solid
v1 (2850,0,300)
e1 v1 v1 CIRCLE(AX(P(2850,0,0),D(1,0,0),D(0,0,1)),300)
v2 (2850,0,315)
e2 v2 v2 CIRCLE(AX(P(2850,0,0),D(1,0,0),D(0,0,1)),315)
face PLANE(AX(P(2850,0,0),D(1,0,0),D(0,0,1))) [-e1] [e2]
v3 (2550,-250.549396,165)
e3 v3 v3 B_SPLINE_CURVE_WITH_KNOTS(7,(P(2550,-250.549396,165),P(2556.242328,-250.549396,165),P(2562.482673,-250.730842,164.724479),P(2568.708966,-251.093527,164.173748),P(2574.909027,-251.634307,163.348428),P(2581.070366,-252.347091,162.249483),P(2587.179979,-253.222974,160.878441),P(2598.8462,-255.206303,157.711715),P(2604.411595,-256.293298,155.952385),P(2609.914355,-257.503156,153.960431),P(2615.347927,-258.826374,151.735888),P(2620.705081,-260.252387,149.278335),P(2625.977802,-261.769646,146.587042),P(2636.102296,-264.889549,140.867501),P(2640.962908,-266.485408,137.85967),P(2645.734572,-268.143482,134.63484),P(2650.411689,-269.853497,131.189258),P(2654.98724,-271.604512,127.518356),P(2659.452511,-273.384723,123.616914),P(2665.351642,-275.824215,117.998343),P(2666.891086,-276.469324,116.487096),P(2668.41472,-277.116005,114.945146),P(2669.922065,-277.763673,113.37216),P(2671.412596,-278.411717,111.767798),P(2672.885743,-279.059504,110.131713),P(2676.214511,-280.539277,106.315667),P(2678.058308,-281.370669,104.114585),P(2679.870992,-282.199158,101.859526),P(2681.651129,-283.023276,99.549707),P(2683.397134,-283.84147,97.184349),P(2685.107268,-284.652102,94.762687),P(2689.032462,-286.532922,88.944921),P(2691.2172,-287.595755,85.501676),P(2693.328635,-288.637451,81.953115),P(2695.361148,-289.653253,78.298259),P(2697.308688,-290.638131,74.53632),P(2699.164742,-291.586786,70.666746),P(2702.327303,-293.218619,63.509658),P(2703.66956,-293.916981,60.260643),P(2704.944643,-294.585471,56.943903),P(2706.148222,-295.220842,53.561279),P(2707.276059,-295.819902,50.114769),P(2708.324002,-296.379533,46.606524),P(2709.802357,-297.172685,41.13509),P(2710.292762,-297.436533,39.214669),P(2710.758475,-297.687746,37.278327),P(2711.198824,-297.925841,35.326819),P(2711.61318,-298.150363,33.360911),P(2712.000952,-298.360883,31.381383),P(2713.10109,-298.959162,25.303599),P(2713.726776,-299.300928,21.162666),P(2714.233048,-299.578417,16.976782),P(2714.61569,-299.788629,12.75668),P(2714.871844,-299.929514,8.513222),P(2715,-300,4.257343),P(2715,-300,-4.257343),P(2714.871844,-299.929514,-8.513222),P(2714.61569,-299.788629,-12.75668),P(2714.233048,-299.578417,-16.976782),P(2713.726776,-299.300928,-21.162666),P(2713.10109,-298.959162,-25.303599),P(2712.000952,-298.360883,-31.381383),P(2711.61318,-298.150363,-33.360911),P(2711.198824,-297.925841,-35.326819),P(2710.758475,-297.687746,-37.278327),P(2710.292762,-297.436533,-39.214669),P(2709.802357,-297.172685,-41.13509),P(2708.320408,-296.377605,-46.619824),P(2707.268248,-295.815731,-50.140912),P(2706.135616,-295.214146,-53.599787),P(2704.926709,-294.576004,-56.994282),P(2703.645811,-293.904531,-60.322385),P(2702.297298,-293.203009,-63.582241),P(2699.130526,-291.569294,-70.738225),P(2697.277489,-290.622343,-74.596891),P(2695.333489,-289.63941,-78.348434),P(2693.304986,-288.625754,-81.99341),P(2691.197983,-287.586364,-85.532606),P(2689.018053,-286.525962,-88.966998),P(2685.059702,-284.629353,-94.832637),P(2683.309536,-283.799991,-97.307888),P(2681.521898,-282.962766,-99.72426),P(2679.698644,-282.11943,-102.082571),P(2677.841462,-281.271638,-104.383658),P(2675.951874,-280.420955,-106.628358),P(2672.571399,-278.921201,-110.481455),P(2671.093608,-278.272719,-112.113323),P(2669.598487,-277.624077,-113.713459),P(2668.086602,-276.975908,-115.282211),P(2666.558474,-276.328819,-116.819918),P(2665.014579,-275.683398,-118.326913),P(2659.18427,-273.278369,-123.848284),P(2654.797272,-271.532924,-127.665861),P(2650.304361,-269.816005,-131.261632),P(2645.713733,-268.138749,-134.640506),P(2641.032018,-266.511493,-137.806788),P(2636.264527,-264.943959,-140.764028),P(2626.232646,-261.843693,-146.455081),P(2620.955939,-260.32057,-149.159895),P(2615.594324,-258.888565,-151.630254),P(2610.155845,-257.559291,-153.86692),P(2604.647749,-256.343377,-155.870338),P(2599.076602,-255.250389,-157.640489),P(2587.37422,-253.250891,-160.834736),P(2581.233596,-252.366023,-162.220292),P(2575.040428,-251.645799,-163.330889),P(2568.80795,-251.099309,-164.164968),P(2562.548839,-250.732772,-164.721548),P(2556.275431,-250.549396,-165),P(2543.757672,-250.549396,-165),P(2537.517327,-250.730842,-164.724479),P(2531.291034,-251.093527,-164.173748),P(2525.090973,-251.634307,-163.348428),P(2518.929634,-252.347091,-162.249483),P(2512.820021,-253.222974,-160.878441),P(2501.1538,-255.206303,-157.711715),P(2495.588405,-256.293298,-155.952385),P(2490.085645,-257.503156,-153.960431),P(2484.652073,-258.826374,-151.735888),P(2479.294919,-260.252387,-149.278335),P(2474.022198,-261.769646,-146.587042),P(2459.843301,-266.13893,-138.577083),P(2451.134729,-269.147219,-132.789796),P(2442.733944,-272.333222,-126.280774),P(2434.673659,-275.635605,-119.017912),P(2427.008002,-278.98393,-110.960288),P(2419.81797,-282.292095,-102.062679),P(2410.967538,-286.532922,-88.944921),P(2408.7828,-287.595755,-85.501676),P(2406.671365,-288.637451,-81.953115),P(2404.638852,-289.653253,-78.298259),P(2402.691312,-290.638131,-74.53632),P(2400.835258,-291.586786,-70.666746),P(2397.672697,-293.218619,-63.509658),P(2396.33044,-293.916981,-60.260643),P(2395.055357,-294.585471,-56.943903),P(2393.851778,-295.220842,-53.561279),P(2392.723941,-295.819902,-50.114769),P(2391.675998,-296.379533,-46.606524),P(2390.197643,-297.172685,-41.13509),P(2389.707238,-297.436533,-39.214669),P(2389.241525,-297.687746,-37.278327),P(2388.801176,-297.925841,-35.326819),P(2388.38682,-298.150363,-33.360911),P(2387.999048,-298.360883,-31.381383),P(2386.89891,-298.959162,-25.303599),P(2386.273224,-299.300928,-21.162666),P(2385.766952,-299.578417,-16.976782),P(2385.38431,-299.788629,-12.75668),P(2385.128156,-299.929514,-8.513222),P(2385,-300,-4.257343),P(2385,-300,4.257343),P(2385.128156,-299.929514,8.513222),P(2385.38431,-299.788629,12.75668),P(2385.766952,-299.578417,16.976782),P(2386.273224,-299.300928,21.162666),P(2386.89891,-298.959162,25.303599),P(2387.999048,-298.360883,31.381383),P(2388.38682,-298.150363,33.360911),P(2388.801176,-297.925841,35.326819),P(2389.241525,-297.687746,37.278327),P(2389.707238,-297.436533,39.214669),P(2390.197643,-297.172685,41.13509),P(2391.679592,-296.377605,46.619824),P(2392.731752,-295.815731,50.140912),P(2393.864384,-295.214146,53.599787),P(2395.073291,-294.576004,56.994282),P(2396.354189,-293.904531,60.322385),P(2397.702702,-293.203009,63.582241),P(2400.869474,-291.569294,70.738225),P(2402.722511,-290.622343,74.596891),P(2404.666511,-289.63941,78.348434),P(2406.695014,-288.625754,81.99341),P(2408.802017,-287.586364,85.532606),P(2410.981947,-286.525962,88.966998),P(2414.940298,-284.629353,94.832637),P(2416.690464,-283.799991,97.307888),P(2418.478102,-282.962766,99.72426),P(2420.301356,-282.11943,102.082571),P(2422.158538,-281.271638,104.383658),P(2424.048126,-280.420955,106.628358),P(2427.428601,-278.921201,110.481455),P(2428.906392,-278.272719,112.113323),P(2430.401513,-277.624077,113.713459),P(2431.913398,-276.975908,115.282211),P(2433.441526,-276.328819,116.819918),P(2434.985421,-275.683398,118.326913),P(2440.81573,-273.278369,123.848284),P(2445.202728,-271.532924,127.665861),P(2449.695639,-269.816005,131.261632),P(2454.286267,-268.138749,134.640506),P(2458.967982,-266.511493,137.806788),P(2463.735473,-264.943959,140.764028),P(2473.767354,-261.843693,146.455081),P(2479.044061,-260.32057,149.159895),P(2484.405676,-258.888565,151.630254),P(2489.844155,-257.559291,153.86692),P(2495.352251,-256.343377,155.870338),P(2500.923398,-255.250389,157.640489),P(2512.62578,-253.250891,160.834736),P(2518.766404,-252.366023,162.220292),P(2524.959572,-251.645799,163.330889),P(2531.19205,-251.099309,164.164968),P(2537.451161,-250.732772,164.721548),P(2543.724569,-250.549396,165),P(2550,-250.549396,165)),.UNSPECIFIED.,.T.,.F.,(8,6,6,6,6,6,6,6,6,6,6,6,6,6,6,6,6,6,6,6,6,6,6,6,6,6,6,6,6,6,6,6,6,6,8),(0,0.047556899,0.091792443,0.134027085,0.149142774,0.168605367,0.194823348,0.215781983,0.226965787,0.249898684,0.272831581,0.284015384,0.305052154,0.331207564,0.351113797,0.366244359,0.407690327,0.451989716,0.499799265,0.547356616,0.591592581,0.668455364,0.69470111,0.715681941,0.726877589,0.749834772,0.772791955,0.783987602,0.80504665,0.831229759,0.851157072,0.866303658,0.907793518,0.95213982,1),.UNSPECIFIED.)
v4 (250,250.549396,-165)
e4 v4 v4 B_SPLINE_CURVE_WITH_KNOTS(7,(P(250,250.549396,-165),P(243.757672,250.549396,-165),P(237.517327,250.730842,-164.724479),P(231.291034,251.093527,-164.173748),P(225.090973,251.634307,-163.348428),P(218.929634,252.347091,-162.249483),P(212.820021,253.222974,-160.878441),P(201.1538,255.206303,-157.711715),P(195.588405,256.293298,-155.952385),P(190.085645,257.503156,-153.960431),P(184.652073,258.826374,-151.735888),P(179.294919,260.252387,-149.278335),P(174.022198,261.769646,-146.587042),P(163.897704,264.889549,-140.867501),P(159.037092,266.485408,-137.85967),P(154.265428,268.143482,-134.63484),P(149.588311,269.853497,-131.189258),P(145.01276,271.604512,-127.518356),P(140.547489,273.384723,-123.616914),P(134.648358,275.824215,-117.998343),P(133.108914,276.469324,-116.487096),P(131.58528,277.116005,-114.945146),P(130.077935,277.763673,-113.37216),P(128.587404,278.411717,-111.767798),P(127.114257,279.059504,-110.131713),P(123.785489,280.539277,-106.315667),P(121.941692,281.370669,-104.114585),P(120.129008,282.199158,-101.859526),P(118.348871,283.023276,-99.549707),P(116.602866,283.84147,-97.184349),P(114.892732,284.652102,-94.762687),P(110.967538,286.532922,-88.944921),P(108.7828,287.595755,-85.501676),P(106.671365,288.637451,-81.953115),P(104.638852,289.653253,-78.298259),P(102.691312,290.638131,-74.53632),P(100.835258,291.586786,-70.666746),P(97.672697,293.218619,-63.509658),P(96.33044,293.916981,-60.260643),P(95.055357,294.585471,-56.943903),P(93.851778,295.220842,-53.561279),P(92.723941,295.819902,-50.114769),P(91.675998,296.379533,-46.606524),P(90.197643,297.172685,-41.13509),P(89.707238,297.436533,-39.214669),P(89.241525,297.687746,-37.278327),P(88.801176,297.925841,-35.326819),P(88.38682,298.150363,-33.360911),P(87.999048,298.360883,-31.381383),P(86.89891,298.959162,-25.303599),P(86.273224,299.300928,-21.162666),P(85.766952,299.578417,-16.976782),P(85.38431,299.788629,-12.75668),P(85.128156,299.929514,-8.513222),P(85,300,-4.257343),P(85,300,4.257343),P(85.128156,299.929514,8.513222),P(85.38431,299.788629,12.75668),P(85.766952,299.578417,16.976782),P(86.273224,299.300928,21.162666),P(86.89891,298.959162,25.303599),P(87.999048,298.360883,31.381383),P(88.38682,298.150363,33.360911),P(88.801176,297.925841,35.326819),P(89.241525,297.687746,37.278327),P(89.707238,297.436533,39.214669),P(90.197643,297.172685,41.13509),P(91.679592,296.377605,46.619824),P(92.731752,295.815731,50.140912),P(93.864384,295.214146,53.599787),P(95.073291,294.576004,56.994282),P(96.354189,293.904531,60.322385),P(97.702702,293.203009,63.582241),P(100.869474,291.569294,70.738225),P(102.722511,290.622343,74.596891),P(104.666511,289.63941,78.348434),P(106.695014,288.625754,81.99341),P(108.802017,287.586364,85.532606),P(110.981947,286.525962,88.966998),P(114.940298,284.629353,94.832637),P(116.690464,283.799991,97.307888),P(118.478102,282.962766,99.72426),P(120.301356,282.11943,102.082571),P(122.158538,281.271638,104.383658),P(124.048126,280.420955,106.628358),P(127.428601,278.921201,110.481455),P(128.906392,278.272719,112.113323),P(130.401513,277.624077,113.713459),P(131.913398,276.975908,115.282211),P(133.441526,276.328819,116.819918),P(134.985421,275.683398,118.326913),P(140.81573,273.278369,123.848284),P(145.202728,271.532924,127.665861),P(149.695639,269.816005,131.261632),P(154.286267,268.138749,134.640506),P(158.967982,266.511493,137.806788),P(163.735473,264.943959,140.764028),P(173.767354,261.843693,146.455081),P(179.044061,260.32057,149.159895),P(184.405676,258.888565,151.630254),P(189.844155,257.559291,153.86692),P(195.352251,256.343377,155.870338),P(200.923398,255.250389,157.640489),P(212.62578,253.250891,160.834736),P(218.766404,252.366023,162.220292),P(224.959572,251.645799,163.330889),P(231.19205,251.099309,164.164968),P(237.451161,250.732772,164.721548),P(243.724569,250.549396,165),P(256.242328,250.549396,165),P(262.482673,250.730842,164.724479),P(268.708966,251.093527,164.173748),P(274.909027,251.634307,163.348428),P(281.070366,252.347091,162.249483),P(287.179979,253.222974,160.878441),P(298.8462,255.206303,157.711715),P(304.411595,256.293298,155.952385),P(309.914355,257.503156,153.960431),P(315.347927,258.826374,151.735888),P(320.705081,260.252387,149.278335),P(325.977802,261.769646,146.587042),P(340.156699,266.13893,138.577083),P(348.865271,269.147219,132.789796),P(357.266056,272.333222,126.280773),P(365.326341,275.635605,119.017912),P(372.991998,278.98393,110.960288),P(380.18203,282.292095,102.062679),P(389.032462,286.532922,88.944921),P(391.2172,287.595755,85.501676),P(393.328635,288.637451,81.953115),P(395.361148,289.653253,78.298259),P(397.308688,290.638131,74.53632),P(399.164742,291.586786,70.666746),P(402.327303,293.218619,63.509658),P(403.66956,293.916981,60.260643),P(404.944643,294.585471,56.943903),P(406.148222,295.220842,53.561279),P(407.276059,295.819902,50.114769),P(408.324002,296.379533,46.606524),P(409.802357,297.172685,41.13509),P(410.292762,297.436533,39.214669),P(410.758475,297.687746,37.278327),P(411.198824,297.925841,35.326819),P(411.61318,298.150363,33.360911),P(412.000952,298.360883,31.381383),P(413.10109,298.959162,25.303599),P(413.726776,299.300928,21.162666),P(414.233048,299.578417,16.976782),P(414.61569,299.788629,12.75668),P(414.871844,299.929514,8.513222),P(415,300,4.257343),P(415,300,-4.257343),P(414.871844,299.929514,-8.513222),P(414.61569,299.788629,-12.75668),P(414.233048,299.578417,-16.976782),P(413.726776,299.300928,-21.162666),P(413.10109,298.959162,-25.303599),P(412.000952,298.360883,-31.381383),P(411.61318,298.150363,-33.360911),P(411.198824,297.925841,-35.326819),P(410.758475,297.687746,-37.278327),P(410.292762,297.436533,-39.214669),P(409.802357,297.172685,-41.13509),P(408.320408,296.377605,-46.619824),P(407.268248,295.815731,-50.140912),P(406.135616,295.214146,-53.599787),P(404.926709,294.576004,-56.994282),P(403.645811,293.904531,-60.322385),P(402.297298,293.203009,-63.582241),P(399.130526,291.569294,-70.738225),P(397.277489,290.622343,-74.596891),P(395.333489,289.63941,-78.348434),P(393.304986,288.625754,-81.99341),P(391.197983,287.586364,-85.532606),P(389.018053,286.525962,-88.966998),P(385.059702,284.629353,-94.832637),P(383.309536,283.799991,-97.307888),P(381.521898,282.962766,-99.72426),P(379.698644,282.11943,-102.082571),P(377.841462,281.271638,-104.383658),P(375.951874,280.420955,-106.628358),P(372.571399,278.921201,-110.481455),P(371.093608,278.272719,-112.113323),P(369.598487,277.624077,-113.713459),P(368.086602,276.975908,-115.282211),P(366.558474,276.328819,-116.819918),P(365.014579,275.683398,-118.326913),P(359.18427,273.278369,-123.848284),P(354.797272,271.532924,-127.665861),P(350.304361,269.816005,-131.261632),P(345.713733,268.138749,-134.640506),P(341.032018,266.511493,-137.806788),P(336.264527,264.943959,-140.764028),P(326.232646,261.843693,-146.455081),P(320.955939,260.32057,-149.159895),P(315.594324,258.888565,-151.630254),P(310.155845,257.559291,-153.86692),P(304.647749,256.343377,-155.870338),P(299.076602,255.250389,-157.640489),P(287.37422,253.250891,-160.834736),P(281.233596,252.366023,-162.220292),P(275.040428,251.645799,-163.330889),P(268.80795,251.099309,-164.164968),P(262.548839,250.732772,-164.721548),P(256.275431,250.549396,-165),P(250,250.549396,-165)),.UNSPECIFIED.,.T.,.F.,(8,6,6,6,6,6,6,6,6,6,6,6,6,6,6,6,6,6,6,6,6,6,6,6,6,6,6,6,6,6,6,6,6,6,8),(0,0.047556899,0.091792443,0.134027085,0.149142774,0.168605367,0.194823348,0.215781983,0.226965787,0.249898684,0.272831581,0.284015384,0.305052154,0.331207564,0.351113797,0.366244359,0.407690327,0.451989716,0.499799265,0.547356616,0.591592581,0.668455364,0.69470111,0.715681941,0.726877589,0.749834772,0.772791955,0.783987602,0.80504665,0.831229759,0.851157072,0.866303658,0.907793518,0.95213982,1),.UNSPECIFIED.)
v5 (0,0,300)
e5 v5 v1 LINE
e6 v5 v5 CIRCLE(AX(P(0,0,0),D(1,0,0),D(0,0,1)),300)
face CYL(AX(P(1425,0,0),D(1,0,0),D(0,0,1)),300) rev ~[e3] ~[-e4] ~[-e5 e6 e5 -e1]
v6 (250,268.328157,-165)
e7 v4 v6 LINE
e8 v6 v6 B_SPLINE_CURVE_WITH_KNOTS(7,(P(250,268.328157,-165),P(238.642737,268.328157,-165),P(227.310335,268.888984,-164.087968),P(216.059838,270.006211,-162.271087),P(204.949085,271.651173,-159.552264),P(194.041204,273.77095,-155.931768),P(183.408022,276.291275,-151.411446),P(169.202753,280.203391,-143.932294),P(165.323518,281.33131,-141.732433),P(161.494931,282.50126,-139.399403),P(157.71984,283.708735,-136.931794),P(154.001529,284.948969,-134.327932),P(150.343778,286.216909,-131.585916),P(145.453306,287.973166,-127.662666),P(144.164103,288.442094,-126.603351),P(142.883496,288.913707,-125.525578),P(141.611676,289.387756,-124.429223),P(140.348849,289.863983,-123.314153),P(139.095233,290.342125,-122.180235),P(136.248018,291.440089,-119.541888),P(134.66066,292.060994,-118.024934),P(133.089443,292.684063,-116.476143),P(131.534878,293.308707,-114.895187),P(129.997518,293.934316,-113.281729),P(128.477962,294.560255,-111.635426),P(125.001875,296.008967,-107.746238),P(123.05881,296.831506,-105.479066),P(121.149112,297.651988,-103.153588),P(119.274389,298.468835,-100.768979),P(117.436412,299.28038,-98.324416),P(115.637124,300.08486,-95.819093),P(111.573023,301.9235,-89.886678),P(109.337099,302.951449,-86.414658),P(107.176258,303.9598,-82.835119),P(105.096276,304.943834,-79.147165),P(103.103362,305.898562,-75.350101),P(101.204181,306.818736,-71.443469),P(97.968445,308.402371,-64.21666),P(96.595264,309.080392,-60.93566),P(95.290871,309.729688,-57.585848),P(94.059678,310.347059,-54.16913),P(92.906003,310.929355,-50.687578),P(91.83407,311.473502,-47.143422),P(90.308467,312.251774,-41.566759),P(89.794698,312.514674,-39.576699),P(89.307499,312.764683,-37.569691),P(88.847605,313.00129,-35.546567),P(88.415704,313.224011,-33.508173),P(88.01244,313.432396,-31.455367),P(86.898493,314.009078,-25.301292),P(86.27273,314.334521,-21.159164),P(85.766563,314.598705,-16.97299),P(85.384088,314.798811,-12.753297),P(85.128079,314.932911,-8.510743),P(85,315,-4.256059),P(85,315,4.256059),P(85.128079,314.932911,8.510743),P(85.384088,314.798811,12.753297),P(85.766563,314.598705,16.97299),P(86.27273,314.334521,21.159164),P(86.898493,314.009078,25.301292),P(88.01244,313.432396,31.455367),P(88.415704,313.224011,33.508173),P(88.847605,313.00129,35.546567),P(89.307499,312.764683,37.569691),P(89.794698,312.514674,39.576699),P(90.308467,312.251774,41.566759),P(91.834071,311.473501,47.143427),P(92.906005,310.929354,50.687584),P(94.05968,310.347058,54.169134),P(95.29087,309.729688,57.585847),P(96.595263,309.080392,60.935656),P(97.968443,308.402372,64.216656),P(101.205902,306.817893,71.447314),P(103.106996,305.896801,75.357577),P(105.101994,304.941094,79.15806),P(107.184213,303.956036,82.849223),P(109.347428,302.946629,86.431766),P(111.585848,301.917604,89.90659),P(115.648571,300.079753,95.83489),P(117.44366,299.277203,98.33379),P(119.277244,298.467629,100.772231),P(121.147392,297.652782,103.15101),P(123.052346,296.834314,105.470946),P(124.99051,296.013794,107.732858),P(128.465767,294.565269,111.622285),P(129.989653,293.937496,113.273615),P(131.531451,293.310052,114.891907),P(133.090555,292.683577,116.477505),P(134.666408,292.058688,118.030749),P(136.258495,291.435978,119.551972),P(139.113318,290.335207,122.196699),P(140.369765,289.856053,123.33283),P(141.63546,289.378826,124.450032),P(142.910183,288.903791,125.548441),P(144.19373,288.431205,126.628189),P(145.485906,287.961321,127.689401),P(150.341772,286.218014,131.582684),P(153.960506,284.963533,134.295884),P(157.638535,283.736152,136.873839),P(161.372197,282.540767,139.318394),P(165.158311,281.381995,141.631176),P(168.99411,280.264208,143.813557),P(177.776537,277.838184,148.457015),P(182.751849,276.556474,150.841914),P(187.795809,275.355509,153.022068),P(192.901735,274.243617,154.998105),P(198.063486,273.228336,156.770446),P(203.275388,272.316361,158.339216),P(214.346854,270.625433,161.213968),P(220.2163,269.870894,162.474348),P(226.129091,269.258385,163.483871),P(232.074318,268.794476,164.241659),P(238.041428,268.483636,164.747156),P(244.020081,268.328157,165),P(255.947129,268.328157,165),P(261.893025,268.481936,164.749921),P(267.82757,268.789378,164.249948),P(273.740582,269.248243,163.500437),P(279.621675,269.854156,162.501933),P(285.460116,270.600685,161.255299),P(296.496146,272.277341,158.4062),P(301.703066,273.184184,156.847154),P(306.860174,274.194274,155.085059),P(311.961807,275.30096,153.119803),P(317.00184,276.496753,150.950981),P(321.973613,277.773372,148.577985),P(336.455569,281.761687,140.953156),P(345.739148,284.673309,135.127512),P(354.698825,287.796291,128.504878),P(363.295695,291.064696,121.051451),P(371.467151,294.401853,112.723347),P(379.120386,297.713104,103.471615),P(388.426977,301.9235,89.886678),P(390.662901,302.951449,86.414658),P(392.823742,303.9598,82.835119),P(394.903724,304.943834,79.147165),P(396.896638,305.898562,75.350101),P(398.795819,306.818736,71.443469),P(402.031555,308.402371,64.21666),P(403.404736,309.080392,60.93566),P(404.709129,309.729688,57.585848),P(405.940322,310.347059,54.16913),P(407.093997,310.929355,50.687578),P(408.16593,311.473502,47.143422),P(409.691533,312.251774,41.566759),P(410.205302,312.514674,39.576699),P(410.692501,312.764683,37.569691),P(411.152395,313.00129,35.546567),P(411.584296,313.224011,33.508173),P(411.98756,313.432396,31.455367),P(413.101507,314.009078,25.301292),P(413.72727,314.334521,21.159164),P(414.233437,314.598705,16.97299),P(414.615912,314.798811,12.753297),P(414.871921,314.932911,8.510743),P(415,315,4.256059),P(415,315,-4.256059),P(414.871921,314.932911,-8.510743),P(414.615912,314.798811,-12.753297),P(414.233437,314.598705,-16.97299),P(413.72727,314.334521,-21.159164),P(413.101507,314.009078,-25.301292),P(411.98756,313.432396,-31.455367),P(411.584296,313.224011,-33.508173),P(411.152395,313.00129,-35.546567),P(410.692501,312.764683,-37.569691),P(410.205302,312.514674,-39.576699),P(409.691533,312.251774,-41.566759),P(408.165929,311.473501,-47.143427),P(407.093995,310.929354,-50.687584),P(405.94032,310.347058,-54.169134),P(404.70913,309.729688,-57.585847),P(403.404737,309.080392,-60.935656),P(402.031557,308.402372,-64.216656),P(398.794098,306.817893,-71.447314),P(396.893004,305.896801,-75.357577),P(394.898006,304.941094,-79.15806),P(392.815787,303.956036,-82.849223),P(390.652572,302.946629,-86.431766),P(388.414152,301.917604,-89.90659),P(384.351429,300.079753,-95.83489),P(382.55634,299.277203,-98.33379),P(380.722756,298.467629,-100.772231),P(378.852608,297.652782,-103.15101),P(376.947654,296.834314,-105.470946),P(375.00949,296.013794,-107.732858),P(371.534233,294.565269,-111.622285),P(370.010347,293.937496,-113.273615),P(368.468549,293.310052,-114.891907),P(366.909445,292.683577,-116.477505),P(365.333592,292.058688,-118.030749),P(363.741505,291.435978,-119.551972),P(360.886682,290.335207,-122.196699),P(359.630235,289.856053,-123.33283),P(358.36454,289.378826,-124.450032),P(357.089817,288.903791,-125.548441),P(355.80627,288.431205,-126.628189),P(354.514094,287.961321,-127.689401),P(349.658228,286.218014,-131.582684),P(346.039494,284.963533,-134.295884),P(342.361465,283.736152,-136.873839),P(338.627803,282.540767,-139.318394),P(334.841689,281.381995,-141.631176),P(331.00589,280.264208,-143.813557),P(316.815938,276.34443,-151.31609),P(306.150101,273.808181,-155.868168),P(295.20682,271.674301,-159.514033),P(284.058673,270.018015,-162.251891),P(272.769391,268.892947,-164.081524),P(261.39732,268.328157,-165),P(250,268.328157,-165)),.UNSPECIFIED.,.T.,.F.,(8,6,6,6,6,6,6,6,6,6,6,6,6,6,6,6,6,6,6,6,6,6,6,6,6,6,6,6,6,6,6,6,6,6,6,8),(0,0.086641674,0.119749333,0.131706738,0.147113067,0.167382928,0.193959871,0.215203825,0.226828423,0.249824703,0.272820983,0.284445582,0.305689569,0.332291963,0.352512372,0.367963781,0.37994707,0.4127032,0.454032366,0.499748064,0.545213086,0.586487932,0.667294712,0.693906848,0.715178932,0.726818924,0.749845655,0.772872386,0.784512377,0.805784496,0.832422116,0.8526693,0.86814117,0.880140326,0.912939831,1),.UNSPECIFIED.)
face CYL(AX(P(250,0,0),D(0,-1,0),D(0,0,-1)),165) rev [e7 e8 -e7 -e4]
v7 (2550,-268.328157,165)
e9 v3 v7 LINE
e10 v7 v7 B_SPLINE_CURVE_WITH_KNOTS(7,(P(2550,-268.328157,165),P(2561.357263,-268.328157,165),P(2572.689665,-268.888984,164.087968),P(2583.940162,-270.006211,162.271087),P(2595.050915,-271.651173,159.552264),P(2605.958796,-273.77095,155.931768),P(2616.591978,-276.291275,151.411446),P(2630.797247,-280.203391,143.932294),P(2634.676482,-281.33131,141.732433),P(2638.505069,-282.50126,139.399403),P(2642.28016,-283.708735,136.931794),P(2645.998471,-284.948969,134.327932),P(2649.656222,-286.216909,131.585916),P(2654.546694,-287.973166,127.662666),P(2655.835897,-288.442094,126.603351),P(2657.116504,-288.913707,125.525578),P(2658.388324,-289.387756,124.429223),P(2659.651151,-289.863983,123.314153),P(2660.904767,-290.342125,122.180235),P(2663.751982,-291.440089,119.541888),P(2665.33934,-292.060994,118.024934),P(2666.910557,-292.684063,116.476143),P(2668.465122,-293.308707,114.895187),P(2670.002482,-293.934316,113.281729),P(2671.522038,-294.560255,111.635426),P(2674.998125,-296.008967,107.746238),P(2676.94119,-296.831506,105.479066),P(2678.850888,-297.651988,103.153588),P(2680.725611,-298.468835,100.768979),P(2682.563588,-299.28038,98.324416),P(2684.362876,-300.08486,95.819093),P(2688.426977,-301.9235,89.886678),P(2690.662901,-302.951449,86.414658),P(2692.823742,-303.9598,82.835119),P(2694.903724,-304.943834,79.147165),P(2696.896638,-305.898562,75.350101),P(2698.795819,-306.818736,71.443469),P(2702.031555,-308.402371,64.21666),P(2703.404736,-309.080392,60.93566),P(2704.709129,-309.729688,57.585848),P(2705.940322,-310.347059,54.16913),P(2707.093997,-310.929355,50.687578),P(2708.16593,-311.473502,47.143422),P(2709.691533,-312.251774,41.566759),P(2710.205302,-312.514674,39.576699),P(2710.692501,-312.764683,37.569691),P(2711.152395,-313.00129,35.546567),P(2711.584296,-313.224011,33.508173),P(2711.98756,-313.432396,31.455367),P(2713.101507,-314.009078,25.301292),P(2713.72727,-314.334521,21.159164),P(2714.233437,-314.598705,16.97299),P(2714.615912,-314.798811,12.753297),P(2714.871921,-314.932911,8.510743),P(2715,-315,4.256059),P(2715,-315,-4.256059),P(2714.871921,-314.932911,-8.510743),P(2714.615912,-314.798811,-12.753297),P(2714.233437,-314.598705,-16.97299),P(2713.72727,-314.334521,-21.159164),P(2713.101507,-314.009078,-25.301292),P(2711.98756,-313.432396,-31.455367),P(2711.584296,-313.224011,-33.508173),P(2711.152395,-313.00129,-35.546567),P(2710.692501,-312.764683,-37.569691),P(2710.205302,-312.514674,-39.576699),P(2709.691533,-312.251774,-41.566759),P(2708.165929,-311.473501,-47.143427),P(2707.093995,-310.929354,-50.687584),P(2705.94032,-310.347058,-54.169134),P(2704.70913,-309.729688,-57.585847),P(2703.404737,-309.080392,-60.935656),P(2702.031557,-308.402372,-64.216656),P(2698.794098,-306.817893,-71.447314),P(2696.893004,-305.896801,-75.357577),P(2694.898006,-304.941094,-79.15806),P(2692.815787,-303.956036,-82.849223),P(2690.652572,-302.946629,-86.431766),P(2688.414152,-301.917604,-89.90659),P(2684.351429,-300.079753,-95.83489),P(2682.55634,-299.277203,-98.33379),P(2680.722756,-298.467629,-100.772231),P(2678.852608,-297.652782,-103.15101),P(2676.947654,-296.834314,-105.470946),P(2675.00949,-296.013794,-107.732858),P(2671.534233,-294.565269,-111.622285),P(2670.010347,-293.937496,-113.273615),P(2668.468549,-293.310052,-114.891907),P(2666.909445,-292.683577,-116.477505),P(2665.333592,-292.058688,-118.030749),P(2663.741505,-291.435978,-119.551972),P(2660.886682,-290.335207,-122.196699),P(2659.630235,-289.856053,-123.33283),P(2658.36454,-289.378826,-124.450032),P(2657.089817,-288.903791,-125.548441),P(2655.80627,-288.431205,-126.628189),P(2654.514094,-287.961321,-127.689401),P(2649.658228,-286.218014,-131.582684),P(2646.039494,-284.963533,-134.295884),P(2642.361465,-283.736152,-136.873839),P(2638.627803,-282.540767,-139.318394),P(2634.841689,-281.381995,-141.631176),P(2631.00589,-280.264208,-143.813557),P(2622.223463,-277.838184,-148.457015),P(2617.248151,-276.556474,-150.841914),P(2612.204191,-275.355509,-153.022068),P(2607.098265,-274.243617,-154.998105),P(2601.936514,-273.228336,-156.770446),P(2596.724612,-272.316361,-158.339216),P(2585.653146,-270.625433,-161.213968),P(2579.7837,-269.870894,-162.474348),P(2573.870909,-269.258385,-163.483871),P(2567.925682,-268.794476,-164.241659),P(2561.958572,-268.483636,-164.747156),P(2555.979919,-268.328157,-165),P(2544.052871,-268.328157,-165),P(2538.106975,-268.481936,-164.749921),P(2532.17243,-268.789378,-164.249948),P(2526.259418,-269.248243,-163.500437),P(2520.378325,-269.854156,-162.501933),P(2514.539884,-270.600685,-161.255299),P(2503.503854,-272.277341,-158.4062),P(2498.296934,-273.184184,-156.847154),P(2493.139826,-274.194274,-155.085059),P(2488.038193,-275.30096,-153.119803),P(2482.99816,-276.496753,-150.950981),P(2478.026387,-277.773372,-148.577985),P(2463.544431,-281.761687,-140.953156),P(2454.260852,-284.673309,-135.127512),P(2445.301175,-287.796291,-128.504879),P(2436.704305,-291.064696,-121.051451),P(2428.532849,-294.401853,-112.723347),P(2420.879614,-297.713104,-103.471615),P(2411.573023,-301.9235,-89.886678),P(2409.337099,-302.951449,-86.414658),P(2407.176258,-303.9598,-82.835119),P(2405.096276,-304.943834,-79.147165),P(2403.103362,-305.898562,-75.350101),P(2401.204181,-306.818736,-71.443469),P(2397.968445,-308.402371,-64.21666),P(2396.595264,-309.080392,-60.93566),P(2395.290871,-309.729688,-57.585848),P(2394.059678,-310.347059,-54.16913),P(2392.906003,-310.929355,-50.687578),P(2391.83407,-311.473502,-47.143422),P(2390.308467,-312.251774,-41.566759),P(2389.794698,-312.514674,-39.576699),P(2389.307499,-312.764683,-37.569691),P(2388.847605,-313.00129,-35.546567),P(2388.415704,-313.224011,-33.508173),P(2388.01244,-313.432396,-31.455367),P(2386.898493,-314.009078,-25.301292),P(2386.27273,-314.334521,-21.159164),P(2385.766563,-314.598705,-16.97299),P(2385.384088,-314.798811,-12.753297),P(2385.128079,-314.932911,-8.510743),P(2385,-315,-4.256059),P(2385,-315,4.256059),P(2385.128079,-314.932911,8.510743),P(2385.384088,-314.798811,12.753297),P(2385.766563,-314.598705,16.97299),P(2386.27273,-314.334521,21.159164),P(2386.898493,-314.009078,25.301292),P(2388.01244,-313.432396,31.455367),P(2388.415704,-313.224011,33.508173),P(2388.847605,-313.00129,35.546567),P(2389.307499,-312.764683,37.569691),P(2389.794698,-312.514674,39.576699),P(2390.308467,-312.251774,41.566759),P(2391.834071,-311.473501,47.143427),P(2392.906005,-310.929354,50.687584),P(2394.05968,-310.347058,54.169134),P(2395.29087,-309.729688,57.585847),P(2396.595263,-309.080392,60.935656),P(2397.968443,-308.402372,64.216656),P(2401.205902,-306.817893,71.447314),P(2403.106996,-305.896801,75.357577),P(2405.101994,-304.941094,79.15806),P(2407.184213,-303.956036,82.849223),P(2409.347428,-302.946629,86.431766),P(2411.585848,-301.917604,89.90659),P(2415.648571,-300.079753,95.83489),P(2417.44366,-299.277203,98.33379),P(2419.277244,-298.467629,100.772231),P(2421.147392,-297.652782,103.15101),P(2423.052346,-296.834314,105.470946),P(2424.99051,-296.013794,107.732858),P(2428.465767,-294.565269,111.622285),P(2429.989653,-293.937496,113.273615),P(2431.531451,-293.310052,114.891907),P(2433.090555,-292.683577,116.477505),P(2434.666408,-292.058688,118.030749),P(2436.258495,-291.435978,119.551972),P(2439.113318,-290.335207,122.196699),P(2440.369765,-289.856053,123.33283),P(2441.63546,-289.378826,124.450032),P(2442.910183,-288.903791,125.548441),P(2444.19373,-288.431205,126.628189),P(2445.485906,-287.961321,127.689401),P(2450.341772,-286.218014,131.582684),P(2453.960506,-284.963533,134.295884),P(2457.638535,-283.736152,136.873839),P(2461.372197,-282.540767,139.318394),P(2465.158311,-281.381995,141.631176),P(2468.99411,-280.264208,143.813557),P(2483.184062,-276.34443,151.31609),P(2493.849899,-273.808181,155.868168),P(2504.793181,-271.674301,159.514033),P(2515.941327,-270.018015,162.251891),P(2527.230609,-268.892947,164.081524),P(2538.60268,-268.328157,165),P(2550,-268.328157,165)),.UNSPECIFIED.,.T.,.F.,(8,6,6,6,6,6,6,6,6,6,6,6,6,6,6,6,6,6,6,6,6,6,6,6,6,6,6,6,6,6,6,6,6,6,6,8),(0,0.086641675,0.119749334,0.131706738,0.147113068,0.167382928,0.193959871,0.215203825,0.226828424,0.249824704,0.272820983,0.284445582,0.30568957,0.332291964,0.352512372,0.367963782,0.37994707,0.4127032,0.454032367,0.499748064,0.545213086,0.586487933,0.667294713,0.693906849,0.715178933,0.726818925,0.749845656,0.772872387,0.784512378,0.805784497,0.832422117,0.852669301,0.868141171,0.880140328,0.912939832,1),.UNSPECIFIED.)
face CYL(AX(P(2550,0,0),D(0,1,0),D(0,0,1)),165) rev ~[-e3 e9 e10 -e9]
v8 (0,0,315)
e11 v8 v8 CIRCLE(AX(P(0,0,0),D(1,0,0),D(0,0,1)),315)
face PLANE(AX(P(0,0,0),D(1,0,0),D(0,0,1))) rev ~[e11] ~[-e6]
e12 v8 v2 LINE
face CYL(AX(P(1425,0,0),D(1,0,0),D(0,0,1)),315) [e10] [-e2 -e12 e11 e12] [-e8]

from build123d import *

# Parameters (mm, degrees)
SKETCH_1_W          = 2850
SKETCH_1_H          = 15
SKETCH_2_R          = 165
CUT_EXTRUDE_1_DEPTH = 2885.605692291
SKETCH_3_R          = 165
CUT_EXTRUDE_2_DEPTH = 2885.605692412


with BuildPart() as part:
    # Эскиз1 → Повернуть1 (revolve)
    with BuildSketch(Plane.XY, mode=Mode.PRIVATE) as revolve_1_sk:
        with Locations((1425, -307.5)):
            Rectangle(SKETCH_1_W, SKETCH_1_H)
    revolve(revolve_1_sk.sketch.rotate(Axis((0, 0, 0), (1, 0, 0)), 270), axis=Axis((0, 0, 0), (1, 0, 0)))

    # Эскиз2 → Вырез-Вытянуть1 (cut, through all)
    with BuildSketch(Plane(origin=(0, 0, 0), x_dir=(1, 0, 0), z_dir=(0, 1, 0))):
        with Locations(Location((250, 0, 0), (0, 0, 90))):
            Circle(SKETCH_2_R)
    extrude(amount=CUT_EXTRUDE_1_DEPTH, mode=Mode.SUBTRACT)

    # Эскиз3 → Вырез-Вытянуть2 (cut, through all)
    with BuildSketch(Plane(origin=(0, 0, 0), x_dir=(1, 0, 0), z_dir=(0, 1, 0))):
        with Locations(Location((2550, 0, 0), (0, 0, 270))):
            Circle(SKETCH_3_R)
    extrude(amount=-CUT_EXTRUDE_2_DEPTH, mode=Mode.SUBTRACT)


solid = part.part
